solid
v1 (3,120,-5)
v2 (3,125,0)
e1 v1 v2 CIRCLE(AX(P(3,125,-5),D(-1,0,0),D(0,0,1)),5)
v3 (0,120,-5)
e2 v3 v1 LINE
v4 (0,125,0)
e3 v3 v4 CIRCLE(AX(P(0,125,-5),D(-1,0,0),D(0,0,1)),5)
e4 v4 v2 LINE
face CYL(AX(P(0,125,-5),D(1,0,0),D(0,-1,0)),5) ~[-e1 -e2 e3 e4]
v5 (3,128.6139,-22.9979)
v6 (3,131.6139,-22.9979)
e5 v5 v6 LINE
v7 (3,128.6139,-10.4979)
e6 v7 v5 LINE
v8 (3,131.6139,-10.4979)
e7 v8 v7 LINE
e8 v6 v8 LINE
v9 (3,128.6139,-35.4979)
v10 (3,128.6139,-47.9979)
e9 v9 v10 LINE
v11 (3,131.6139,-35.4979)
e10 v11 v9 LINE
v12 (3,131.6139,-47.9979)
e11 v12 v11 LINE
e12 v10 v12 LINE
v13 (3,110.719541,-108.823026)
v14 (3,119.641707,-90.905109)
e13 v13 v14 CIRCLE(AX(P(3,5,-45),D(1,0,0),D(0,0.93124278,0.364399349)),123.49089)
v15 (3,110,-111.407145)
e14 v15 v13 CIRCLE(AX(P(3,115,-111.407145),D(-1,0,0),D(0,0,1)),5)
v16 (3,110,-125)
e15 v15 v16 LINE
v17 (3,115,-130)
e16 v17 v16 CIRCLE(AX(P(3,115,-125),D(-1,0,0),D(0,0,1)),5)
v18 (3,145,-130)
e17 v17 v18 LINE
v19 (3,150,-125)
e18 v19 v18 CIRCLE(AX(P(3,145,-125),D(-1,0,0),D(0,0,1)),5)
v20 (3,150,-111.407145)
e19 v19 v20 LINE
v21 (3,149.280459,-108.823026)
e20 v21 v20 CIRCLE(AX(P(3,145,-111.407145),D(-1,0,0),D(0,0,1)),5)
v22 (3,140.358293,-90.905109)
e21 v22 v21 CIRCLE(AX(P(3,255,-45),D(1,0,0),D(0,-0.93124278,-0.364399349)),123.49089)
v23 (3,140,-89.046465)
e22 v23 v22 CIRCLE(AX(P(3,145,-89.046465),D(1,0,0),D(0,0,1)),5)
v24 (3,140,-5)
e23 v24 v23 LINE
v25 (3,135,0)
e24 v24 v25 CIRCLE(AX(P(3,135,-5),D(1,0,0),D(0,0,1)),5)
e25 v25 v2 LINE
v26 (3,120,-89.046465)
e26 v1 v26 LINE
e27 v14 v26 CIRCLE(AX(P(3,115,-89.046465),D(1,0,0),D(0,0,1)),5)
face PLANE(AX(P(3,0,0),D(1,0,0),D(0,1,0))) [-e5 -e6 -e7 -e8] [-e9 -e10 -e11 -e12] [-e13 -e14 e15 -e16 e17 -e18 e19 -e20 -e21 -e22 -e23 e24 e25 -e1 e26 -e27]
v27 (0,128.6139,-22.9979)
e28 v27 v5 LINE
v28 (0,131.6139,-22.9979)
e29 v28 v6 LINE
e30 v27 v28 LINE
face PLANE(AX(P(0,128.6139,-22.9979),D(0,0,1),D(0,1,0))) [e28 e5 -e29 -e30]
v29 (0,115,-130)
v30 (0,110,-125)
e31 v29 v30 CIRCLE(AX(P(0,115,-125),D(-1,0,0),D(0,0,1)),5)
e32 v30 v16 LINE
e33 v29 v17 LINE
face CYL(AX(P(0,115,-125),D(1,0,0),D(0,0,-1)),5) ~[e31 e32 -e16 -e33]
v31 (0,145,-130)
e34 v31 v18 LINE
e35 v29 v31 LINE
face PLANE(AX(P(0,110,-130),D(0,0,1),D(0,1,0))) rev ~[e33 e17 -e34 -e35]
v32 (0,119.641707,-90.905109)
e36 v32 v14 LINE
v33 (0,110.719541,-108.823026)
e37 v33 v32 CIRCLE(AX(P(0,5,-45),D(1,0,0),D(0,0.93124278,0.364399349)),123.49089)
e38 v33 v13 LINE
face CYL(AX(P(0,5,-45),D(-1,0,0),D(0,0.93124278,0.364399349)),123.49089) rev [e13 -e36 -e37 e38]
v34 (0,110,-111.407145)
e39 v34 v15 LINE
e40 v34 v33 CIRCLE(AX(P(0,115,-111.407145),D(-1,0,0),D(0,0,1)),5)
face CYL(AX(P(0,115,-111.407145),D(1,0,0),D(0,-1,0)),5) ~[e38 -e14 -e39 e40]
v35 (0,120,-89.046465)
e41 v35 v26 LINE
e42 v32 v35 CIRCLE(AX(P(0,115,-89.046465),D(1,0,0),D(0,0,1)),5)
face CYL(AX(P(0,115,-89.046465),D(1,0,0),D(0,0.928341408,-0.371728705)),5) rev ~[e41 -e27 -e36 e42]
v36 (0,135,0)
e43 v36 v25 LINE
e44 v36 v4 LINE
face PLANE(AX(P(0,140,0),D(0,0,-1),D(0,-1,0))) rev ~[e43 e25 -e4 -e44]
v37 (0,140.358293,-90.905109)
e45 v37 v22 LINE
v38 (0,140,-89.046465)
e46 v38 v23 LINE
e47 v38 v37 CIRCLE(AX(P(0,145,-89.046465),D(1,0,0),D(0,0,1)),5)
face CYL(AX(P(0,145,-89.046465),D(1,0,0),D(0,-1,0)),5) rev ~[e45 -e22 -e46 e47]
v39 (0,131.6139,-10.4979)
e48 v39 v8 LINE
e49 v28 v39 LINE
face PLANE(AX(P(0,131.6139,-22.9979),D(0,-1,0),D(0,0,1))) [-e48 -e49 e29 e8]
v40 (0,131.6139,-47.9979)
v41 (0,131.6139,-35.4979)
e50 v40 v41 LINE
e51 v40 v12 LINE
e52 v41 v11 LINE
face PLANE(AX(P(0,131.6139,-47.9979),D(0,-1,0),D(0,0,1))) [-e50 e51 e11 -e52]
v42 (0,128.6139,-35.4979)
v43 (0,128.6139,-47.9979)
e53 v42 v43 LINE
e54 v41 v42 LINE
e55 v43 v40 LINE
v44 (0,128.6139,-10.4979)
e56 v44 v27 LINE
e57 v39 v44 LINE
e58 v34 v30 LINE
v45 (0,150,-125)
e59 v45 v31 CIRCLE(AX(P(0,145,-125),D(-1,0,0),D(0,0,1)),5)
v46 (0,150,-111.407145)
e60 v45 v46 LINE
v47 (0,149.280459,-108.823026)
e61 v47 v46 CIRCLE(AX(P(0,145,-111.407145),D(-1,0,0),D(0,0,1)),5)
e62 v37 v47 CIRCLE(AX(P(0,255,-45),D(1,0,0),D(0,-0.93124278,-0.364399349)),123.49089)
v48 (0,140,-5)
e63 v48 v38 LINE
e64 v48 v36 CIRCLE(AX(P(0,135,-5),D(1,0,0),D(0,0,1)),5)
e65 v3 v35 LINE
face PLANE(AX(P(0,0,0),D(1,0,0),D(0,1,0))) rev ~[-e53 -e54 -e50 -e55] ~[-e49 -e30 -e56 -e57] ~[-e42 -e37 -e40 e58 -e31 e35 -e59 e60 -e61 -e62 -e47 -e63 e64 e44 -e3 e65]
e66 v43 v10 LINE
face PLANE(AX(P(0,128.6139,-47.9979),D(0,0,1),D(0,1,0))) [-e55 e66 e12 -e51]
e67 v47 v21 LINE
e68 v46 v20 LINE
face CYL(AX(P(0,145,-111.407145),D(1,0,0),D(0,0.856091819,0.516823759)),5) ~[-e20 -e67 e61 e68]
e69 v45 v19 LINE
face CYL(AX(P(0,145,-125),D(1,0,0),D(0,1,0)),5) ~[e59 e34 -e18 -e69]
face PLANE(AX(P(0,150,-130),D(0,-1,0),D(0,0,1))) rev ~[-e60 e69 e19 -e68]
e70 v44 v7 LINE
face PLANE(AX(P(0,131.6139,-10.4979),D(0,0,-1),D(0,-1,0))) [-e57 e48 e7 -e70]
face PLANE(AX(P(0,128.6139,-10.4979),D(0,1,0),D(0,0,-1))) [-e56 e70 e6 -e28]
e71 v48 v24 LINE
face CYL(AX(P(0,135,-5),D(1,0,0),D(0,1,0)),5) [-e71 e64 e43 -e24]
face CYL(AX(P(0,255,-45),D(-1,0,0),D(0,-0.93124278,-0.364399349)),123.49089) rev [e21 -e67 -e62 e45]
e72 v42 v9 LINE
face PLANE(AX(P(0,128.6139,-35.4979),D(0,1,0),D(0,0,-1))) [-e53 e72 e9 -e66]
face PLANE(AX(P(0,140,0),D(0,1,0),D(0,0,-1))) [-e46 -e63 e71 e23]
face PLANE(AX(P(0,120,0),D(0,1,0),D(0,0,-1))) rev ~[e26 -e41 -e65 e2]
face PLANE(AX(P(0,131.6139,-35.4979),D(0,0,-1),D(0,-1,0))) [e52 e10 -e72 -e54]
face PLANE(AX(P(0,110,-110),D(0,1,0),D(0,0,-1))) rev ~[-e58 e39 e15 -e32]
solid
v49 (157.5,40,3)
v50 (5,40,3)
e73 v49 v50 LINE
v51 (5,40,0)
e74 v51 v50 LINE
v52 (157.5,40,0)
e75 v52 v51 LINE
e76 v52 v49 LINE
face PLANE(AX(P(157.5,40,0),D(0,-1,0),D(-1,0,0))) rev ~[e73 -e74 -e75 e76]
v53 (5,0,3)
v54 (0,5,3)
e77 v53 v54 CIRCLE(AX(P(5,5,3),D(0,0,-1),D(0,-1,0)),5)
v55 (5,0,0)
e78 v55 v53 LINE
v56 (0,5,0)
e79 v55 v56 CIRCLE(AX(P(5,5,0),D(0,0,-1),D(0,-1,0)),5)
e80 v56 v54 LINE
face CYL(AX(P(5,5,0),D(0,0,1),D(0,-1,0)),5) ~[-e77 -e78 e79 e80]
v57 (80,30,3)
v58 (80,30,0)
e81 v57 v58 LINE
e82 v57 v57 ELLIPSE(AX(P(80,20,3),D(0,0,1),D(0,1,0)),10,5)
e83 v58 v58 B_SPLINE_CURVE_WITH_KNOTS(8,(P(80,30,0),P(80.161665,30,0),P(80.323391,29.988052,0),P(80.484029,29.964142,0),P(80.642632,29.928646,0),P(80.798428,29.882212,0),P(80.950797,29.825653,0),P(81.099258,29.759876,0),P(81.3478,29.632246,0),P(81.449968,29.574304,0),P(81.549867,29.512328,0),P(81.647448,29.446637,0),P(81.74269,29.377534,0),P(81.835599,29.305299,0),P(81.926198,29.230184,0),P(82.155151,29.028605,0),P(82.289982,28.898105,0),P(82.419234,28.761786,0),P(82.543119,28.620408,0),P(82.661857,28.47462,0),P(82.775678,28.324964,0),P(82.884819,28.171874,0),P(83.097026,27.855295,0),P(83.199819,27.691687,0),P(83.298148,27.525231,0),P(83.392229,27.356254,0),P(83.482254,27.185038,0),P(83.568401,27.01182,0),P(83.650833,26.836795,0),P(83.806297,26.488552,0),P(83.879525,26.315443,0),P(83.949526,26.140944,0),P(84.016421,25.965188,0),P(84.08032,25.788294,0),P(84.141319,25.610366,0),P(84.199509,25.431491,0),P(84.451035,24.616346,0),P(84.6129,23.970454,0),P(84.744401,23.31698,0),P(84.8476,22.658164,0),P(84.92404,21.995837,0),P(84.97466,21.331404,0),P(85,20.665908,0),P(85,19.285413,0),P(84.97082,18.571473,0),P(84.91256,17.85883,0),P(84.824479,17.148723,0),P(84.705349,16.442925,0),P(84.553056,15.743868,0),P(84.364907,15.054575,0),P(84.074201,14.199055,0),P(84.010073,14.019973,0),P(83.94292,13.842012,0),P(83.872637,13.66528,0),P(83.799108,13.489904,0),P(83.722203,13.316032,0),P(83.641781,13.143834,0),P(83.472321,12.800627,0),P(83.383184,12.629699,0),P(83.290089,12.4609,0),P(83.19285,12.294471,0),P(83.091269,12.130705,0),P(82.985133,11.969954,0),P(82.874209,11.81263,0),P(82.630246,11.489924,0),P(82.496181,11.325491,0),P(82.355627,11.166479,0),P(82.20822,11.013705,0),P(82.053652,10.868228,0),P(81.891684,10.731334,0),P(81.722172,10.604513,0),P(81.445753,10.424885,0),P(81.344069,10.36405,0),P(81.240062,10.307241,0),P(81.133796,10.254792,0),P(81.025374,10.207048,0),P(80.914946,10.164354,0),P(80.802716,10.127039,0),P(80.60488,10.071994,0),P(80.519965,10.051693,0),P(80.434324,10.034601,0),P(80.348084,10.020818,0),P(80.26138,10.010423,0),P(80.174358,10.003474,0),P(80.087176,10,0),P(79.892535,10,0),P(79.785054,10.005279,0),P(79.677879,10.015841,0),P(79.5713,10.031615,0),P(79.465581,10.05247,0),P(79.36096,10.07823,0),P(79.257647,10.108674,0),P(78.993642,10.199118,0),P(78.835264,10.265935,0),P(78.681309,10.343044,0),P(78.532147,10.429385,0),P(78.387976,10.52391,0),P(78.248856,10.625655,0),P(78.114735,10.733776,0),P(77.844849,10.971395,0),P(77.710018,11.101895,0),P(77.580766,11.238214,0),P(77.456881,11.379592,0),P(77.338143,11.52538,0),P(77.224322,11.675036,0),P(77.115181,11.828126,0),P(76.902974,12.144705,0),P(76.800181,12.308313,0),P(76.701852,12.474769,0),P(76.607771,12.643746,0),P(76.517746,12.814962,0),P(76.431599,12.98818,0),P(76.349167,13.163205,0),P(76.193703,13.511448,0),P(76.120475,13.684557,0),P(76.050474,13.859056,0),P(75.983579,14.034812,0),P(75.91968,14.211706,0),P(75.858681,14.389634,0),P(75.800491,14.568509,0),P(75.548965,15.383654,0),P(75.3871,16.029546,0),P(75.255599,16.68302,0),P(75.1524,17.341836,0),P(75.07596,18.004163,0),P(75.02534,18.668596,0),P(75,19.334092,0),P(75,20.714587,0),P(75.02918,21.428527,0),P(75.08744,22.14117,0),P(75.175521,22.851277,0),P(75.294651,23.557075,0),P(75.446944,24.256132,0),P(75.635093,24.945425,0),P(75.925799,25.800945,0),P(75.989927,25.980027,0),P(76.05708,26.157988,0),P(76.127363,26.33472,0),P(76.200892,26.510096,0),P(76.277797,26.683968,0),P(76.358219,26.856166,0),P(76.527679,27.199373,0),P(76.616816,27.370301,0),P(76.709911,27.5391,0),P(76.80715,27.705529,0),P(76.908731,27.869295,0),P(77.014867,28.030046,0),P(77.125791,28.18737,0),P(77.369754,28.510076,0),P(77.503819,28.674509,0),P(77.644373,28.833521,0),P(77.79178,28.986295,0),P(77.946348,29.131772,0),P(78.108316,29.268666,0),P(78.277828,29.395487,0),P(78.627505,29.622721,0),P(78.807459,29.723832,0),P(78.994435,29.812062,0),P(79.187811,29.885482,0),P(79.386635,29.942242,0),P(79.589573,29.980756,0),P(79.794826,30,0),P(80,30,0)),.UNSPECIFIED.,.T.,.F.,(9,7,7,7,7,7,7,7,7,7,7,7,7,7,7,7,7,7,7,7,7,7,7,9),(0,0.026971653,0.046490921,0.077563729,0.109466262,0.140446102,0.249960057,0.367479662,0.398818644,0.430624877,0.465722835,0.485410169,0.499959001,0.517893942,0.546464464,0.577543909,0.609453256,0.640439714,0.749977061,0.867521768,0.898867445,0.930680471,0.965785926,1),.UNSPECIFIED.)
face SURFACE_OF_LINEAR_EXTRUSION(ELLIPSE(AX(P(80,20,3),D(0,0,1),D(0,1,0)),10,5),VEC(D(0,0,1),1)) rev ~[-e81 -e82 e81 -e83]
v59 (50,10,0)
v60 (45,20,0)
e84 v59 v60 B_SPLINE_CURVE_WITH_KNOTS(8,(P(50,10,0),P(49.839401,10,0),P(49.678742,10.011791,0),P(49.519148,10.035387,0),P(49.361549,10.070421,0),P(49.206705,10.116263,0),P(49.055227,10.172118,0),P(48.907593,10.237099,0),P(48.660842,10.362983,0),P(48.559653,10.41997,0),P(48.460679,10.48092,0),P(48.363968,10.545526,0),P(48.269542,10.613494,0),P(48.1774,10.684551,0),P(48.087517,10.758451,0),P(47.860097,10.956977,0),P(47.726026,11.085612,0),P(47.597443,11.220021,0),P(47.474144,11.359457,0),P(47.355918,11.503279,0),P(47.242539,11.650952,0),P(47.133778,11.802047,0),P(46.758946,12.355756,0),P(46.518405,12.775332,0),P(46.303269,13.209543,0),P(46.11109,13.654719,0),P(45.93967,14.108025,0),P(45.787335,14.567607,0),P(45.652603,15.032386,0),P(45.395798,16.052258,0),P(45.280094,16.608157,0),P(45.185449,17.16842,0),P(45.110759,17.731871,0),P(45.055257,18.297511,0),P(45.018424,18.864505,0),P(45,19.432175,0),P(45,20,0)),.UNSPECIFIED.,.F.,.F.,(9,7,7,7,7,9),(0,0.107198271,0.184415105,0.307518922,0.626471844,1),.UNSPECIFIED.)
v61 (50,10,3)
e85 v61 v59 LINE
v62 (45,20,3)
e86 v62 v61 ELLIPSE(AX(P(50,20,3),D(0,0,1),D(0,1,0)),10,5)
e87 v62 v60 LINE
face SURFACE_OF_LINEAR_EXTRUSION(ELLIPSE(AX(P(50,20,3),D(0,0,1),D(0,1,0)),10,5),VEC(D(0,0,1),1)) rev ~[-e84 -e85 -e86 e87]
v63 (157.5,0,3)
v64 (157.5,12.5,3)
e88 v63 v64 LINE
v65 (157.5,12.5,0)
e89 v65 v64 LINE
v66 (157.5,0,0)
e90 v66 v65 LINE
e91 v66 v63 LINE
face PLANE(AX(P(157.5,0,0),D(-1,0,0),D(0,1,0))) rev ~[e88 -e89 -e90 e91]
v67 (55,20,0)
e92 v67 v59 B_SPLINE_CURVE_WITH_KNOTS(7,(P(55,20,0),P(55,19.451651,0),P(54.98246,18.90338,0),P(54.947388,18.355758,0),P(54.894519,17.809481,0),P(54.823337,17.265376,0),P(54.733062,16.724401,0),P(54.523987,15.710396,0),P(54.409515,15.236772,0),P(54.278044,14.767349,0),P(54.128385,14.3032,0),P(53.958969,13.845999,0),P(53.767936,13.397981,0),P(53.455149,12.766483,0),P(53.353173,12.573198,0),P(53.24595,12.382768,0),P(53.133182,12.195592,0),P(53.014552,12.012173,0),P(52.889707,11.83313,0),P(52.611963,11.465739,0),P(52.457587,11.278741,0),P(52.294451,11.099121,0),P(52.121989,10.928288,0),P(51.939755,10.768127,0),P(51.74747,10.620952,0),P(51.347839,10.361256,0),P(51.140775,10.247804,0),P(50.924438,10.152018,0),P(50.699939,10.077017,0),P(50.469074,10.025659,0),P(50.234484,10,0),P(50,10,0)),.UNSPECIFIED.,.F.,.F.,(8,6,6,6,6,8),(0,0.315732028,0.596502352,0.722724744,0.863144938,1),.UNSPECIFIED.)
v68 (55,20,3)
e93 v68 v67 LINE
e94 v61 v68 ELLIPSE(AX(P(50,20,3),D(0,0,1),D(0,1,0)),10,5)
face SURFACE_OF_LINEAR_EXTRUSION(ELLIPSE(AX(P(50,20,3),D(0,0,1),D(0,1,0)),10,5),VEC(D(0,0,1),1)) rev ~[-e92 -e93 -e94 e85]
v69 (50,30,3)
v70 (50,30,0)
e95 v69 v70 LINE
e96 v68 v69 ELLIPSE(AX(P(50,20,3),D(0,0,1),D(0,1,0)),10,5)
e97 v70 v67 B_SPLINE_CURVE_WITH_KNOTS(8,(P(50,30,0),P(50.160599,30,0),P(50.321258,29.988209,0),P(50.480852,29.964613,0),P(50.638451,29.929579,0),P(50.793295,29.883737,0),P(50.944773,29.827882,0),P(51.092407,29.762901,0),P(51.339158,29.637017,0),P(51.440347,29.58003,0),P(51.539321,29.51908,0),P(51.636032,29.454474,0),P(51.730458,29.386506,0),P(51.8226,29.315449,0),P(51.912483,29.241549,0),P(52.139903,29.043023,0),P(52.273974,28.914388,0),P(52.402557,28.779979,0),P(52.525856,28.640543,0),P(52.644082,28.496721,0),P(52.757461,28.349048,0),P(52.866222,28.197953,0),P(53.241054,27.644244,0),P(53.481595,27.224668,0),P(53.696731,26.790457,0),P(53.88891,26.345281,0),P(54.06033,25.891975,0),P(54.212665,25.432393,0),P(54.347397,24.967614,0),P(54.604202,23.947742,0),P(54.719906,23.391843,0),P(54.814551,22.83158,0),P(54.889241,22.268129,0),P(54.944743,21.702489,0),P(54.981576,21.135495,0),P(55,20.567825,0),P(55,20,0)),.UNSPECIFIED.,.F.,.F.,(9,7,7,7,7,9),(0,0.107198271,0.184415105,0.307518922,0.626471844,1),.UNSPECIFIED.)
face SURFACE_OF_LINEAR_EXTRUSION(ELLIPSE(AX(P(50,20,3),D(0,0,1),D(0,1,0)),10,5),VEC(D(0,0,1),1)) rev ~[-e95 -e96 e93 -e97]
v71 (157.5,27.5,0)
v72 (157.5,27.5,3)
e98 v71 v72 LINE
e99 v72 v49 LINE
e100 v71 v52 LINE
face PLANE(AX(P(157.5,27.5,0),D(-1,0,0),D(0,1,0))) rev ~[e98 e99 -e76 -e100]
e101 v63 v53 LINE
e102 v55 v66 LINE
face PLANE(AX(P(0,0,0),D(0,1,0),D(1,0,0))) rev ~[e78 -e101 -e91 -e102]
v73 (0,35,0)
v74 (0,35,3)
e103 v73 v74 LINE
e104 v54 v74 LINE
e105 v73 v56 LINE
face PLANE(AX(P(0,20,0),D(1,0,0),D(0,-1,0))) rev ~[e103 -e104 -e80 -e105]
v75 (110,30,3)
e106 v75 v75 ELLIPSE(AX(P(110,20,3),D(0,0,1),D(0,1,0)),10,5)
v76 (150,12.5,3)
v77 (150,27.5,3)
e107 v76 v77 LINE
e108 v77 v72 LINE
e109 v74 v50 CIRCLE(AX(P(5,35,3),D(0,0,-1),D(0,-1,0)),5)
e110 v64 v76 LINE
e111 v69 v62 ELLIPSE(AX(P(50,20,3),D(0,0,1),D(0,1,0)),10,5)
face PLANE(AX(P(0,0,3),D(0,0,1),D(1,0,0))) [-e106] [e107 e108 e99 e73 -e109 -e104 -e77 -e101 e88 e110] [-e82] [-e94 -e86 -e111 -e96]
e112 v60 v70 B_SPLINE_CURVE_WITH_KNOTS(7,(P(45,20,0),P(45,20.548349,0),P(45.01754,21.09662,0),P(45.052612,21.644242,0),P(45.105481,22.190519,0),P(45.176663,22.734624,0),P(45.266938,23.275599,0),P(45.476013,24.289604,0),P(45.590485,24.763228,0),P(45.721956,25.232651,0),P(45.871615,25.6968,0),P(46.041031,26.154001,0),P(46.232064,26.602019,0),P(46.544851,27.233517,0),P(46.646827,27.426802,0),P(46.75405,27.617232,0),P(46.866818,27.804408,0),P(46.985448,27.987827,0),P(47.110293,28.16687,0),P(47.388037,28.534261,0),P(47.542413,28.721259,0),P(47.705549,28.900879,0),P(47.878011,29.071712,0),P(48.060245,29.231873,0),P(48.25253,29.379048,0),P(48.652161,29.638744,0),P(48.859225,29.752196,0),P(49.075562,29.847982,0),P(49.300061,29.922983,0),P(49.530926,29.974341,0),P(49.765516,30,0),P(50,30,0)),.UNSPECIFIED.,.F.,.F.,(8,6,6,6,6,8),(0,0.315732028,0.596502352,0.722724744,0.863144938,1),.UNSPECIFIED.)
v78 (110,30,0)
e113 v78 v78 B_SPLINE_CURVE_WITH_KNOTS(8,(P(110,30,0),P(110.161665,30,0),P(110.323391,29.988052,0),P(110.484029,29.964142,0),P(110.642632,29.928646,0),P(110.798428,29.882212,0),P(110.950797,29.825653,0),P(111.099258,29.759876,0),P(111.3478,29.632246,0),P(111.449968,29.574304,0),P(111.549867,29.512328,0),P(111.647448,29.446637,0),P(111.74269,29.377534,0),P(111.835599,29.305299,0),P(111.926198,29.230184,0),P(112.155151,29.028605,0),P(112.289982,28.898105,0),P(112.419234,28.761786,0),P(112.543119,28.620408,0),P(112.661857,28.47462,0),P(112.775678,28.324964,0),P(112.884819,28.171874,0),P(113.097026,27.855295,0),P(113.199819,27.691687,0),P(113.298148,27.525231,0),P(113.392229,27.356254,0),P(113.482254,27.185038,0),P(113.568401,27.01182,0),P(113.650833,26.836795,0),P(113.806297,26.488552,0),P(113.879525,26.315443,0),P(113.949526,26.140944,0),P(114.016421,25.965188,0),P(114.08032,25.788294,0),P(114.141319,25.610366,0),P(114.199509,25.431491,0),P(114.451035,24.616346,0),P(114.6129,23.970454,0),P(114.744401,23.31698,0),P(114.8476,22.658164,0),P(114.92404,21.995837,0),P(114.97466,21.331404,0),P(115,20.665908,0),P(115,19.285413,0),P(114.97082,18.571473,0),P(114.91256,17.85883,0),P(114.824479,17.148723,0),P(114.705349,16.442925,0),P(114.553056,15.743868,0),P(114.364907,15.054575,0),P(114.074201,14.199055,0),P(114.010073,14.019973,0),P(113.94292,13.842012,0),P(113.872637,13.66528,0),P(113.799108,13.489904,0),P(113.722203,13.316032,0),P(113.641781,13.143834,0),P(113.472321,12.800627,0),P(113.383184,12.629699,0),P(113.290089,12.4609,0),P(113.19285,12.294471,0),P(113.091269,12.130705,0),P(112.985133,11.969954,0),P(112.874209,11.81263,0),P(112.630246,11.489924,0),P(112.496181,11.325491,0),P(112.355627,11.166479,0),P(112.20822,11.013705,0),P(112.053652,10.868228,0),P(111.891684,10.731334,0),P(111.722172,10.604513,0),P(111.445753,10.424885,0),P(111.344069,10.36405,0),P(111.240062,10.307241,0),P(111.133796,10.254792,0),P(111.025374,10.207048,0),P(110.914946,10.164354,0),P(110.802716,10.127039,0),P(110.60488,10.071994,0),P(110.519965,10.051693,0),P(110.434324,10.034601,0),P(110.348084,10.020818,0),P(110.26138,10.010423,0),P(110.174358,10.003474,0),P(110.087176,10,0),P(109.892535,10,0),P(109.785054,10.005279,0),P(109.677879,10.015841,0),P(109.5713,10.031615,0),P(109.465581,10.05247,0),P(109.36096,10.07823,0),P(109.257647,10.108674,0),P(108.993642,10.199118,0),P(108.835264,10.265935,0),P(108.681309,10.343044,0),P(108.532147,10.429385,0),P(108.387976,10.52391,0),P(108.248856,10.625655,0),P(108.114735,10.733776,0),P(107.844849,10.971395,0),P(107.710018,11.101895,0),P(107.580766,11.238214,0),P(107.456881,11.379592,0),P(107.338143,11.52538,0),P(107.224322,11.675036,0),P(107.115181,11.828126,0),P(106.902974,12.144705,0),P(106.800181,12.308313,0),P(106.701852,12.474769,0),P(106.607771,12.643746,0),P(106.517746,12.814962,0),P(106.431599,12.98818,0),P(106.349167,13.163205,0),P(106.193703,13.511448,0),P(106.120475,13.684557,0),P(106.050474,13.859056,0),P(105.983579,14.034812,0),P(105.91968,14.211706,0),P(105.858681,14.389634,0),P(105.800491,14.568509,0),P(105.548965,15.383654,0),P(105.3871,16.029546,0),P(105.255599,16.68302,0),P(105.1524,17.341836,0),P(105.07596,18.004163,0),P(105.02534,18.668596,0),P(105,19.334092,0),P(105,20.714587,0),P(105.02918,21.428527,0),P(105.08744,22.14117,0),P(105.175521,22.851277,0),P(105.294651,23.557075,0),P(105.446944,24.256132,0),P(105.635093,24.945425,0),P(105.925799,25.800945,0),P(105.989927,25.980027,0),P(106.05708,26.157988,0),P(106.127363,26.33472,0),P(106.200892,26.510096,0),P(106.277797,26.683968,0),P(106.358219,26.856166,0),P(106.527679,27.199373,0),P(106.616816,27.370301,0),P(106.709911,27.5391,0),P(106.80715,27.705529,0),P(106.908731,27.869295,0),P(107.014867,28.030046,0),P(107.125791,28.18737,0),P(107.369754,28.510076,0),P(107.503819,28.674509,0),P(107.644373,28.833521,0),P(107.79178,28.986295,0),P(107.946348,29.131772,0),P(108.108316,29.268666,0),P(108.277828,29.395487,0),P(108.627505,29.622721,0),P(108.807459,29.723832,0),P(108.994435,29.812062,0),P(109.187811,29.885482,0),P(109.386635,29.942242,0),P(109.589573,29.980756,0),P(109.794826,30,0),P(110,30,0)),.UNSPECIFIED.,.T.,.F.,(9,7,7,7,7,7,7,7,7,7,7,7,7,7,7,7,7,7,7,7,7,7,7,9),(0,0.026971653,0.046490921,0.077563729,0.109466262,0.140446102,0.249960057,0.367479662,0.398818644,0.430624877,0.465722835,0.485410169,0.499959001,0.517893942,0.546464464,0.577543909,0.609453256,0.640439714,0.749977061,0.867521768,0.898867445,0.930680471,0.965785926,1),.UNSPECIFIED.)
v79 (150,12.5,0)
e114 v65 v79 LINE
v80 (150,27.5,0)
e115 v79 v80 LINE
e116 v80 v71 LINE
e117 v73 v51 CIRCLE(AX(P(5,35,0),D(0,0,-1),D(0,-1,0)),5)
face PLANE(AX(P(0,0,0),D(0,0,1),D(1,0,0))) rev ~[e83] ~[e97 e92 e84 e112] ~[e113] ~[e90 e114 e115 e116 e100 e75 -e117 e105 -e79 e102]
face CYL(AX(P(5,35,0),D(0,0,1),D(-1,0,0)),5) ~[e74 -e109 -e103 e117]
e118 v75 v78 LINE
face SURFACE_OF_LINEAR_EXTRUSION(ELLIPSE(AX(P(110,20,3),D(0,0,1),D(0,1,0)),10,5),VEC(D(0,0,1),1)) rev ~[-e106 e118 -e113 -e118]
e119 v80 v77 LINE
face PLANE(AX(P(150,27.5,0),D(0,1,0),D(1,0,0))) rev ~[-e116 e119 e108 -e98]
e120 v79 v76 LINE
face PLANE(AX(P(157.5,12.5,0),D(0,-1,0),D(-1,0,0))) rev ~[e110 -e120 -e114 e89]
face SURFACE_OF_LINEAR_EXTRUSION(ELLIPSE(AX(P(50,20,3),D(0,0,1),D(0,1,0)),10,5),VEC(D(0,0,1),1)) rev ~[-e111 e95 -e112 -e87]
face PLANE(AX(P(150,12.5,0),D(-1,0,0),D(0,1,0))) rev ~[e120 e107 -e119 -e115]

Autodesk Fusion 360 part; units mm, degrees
sketch "Sketch1" plane through (0, 0, 0) normal (0, 0, 1) x (1, 0, 0)
  line L0 (65, 0) -> (157.5, 0)
  line L1 (157.5, 0) -> (157.5, 12.5)
  line L2 (157.5, 12.5) -> (150, 12.5)
  line L3 (150, 12.5) -> (150, 27.5)
  line L4 (150, 27.5) -> (157.5, 27.5)
  line L5 (157.5, 27.5) -> (157.5, 40)
  line L6 (157.5, 40) -> (0, 40)
  line L7 (0, 40) -> (0, 20)
  line L8 (0, 20) -> (0, 0)
  line L9 (0, 0) -> (65, 0)
  dimension "d1" = 157.5
  dimension "d2" = 12.5
  dimension "d3" = 7.5
  dimension "d4" = 15
  dimension "d5" = 7.5
  dimension "d6" = 12.5
extrude "Extrude1" add sketch "Sketch1" along normal blind 3 makes body 1
copy_body "Body->Comp1" bodies 1 removing the originals makes body 2 in component "Component"
sketch "Sketch3" plane through (0, 0, 0) normal (1, 0, 0) x (0, 1, 0)
  line L0 (150, 0) -> (110, 0)
  line L1 (110, 0) -> (110, -130)
  line L2 (110, -130) -> (150, -130)
  line L3 (150, -130) -> (150, 0)
  line L4 (131.6139, -10.4979) -> (128.6139, -10.4979)
  line L5 (128.6139, -10.4979) -> (128.6139, -22.9979)
  line L6 (128.6139, -22.9979) -> (131.6139, -22.9979)
  line L7 (131.6139, -22.9979) -> (131.6139, -10.4979)
  line L8 (128.6139, -35.4979) -> (128.6139, -47.9979)
  line L9 (128.6139, -47.9979) -> (131.6139, -47.9979)
  line L10 (131.6139, -47.9979) -> (131.6139, -35.4979)
  line L11 (131.6139, -35.4979) -> (128.6139, -35.4979)
  arc A0 (120, 0) -> (120, -90) centre (5, -45) ccw
  line L12 (120, 0) -> (120, -90)
  arc A1 (140, -90) -> (140, 0) centre (255, -45) ccw
  line L13 (140, 0) -> (140, -90)
  dimension "d9" = 40
  dimension "d10" = 130
  dimension "d11" = 3
  dimension "d12" = 12.5
  dimension "d15" = 0
  dimension "d16" = -25
extrude "Extrude3" add sketch "Sketch3" along normal blind 3 separate body contours L0 L1 L2 L3 A0 L12 A1 L13 makes body 3
copy_body "Body->Comp2" bodies 3 removing the originals makes body 4 in component "Component'"
sketch "Sketch4" plane through (0, 0, 3) normal (0, 0, 1) x (-1, 0, 0)
  line L0 (0, 0) -> (-157.5, 0)
  line L1 (-157.5, 0) -> (-157.5, -12.5)
  line L2 (-157.5, -12.5) -> (-150, -12.5)
  line L3 (-150, -12.5) -> (-150, -27.5)
  line L4 (-150, -27.5) -> (-157.5, -27.5)
  line L5 (-157.5, -27.5) -> (-157.5, -40)
  line L6 (-157.5, -40) -> (0, -40)
  line L7 (0, -40) -> (0, 0)
  ellipse E0 centre (-50, -20) end of major axis (-50, -30) minor radius 5
  line L8 (-50, -10) -> (-50, -30)
  line L9 (-55, -20) -> (-45, -20)
  ellipse E1 centre (-80, -20) end of major axis (-80, -30) minor radius 5
  ellipse E2 centre (-110, -20) end of major axis (-110, -30) minor radius 5
  dimension "d21" = 10
  dimension "d24" = -60
  dimension "d25" = 0
extrude "Extrude1'" cut sketch "Sketch4" against normal blind 10 contours E0 L8 L9 | E0 L8 L9 | E0 L8 L9 | E0 L8 L9 | E1 | E2 bodies 2 in component "Component"
fillet "Fillet1" radius 5 8 edges at (1.5, 120, 0) (1.5, 140, 0) (1.5, 140, -90) (1.5, 150, -110) (1.5, 150, -130) (1.5, 120, -90) (1.5, 110, -110) (1.5, 110, -130) on bodies 4 in component "Component'"
fillet "Fillet1'" radius 5 2 edges at (0, 40, 1.5) (0, 0, 1.5) on bodies 2 in component "Component"
component "Component" placed x (1, 0, 0) y (0, 1, 0) z (0, 0, 1) at (0, 0, 0)
component "Component'" placed x (1, 0, 0) y (0, 1, 0) z (0, 0, 1) at (0, 0, 0)
